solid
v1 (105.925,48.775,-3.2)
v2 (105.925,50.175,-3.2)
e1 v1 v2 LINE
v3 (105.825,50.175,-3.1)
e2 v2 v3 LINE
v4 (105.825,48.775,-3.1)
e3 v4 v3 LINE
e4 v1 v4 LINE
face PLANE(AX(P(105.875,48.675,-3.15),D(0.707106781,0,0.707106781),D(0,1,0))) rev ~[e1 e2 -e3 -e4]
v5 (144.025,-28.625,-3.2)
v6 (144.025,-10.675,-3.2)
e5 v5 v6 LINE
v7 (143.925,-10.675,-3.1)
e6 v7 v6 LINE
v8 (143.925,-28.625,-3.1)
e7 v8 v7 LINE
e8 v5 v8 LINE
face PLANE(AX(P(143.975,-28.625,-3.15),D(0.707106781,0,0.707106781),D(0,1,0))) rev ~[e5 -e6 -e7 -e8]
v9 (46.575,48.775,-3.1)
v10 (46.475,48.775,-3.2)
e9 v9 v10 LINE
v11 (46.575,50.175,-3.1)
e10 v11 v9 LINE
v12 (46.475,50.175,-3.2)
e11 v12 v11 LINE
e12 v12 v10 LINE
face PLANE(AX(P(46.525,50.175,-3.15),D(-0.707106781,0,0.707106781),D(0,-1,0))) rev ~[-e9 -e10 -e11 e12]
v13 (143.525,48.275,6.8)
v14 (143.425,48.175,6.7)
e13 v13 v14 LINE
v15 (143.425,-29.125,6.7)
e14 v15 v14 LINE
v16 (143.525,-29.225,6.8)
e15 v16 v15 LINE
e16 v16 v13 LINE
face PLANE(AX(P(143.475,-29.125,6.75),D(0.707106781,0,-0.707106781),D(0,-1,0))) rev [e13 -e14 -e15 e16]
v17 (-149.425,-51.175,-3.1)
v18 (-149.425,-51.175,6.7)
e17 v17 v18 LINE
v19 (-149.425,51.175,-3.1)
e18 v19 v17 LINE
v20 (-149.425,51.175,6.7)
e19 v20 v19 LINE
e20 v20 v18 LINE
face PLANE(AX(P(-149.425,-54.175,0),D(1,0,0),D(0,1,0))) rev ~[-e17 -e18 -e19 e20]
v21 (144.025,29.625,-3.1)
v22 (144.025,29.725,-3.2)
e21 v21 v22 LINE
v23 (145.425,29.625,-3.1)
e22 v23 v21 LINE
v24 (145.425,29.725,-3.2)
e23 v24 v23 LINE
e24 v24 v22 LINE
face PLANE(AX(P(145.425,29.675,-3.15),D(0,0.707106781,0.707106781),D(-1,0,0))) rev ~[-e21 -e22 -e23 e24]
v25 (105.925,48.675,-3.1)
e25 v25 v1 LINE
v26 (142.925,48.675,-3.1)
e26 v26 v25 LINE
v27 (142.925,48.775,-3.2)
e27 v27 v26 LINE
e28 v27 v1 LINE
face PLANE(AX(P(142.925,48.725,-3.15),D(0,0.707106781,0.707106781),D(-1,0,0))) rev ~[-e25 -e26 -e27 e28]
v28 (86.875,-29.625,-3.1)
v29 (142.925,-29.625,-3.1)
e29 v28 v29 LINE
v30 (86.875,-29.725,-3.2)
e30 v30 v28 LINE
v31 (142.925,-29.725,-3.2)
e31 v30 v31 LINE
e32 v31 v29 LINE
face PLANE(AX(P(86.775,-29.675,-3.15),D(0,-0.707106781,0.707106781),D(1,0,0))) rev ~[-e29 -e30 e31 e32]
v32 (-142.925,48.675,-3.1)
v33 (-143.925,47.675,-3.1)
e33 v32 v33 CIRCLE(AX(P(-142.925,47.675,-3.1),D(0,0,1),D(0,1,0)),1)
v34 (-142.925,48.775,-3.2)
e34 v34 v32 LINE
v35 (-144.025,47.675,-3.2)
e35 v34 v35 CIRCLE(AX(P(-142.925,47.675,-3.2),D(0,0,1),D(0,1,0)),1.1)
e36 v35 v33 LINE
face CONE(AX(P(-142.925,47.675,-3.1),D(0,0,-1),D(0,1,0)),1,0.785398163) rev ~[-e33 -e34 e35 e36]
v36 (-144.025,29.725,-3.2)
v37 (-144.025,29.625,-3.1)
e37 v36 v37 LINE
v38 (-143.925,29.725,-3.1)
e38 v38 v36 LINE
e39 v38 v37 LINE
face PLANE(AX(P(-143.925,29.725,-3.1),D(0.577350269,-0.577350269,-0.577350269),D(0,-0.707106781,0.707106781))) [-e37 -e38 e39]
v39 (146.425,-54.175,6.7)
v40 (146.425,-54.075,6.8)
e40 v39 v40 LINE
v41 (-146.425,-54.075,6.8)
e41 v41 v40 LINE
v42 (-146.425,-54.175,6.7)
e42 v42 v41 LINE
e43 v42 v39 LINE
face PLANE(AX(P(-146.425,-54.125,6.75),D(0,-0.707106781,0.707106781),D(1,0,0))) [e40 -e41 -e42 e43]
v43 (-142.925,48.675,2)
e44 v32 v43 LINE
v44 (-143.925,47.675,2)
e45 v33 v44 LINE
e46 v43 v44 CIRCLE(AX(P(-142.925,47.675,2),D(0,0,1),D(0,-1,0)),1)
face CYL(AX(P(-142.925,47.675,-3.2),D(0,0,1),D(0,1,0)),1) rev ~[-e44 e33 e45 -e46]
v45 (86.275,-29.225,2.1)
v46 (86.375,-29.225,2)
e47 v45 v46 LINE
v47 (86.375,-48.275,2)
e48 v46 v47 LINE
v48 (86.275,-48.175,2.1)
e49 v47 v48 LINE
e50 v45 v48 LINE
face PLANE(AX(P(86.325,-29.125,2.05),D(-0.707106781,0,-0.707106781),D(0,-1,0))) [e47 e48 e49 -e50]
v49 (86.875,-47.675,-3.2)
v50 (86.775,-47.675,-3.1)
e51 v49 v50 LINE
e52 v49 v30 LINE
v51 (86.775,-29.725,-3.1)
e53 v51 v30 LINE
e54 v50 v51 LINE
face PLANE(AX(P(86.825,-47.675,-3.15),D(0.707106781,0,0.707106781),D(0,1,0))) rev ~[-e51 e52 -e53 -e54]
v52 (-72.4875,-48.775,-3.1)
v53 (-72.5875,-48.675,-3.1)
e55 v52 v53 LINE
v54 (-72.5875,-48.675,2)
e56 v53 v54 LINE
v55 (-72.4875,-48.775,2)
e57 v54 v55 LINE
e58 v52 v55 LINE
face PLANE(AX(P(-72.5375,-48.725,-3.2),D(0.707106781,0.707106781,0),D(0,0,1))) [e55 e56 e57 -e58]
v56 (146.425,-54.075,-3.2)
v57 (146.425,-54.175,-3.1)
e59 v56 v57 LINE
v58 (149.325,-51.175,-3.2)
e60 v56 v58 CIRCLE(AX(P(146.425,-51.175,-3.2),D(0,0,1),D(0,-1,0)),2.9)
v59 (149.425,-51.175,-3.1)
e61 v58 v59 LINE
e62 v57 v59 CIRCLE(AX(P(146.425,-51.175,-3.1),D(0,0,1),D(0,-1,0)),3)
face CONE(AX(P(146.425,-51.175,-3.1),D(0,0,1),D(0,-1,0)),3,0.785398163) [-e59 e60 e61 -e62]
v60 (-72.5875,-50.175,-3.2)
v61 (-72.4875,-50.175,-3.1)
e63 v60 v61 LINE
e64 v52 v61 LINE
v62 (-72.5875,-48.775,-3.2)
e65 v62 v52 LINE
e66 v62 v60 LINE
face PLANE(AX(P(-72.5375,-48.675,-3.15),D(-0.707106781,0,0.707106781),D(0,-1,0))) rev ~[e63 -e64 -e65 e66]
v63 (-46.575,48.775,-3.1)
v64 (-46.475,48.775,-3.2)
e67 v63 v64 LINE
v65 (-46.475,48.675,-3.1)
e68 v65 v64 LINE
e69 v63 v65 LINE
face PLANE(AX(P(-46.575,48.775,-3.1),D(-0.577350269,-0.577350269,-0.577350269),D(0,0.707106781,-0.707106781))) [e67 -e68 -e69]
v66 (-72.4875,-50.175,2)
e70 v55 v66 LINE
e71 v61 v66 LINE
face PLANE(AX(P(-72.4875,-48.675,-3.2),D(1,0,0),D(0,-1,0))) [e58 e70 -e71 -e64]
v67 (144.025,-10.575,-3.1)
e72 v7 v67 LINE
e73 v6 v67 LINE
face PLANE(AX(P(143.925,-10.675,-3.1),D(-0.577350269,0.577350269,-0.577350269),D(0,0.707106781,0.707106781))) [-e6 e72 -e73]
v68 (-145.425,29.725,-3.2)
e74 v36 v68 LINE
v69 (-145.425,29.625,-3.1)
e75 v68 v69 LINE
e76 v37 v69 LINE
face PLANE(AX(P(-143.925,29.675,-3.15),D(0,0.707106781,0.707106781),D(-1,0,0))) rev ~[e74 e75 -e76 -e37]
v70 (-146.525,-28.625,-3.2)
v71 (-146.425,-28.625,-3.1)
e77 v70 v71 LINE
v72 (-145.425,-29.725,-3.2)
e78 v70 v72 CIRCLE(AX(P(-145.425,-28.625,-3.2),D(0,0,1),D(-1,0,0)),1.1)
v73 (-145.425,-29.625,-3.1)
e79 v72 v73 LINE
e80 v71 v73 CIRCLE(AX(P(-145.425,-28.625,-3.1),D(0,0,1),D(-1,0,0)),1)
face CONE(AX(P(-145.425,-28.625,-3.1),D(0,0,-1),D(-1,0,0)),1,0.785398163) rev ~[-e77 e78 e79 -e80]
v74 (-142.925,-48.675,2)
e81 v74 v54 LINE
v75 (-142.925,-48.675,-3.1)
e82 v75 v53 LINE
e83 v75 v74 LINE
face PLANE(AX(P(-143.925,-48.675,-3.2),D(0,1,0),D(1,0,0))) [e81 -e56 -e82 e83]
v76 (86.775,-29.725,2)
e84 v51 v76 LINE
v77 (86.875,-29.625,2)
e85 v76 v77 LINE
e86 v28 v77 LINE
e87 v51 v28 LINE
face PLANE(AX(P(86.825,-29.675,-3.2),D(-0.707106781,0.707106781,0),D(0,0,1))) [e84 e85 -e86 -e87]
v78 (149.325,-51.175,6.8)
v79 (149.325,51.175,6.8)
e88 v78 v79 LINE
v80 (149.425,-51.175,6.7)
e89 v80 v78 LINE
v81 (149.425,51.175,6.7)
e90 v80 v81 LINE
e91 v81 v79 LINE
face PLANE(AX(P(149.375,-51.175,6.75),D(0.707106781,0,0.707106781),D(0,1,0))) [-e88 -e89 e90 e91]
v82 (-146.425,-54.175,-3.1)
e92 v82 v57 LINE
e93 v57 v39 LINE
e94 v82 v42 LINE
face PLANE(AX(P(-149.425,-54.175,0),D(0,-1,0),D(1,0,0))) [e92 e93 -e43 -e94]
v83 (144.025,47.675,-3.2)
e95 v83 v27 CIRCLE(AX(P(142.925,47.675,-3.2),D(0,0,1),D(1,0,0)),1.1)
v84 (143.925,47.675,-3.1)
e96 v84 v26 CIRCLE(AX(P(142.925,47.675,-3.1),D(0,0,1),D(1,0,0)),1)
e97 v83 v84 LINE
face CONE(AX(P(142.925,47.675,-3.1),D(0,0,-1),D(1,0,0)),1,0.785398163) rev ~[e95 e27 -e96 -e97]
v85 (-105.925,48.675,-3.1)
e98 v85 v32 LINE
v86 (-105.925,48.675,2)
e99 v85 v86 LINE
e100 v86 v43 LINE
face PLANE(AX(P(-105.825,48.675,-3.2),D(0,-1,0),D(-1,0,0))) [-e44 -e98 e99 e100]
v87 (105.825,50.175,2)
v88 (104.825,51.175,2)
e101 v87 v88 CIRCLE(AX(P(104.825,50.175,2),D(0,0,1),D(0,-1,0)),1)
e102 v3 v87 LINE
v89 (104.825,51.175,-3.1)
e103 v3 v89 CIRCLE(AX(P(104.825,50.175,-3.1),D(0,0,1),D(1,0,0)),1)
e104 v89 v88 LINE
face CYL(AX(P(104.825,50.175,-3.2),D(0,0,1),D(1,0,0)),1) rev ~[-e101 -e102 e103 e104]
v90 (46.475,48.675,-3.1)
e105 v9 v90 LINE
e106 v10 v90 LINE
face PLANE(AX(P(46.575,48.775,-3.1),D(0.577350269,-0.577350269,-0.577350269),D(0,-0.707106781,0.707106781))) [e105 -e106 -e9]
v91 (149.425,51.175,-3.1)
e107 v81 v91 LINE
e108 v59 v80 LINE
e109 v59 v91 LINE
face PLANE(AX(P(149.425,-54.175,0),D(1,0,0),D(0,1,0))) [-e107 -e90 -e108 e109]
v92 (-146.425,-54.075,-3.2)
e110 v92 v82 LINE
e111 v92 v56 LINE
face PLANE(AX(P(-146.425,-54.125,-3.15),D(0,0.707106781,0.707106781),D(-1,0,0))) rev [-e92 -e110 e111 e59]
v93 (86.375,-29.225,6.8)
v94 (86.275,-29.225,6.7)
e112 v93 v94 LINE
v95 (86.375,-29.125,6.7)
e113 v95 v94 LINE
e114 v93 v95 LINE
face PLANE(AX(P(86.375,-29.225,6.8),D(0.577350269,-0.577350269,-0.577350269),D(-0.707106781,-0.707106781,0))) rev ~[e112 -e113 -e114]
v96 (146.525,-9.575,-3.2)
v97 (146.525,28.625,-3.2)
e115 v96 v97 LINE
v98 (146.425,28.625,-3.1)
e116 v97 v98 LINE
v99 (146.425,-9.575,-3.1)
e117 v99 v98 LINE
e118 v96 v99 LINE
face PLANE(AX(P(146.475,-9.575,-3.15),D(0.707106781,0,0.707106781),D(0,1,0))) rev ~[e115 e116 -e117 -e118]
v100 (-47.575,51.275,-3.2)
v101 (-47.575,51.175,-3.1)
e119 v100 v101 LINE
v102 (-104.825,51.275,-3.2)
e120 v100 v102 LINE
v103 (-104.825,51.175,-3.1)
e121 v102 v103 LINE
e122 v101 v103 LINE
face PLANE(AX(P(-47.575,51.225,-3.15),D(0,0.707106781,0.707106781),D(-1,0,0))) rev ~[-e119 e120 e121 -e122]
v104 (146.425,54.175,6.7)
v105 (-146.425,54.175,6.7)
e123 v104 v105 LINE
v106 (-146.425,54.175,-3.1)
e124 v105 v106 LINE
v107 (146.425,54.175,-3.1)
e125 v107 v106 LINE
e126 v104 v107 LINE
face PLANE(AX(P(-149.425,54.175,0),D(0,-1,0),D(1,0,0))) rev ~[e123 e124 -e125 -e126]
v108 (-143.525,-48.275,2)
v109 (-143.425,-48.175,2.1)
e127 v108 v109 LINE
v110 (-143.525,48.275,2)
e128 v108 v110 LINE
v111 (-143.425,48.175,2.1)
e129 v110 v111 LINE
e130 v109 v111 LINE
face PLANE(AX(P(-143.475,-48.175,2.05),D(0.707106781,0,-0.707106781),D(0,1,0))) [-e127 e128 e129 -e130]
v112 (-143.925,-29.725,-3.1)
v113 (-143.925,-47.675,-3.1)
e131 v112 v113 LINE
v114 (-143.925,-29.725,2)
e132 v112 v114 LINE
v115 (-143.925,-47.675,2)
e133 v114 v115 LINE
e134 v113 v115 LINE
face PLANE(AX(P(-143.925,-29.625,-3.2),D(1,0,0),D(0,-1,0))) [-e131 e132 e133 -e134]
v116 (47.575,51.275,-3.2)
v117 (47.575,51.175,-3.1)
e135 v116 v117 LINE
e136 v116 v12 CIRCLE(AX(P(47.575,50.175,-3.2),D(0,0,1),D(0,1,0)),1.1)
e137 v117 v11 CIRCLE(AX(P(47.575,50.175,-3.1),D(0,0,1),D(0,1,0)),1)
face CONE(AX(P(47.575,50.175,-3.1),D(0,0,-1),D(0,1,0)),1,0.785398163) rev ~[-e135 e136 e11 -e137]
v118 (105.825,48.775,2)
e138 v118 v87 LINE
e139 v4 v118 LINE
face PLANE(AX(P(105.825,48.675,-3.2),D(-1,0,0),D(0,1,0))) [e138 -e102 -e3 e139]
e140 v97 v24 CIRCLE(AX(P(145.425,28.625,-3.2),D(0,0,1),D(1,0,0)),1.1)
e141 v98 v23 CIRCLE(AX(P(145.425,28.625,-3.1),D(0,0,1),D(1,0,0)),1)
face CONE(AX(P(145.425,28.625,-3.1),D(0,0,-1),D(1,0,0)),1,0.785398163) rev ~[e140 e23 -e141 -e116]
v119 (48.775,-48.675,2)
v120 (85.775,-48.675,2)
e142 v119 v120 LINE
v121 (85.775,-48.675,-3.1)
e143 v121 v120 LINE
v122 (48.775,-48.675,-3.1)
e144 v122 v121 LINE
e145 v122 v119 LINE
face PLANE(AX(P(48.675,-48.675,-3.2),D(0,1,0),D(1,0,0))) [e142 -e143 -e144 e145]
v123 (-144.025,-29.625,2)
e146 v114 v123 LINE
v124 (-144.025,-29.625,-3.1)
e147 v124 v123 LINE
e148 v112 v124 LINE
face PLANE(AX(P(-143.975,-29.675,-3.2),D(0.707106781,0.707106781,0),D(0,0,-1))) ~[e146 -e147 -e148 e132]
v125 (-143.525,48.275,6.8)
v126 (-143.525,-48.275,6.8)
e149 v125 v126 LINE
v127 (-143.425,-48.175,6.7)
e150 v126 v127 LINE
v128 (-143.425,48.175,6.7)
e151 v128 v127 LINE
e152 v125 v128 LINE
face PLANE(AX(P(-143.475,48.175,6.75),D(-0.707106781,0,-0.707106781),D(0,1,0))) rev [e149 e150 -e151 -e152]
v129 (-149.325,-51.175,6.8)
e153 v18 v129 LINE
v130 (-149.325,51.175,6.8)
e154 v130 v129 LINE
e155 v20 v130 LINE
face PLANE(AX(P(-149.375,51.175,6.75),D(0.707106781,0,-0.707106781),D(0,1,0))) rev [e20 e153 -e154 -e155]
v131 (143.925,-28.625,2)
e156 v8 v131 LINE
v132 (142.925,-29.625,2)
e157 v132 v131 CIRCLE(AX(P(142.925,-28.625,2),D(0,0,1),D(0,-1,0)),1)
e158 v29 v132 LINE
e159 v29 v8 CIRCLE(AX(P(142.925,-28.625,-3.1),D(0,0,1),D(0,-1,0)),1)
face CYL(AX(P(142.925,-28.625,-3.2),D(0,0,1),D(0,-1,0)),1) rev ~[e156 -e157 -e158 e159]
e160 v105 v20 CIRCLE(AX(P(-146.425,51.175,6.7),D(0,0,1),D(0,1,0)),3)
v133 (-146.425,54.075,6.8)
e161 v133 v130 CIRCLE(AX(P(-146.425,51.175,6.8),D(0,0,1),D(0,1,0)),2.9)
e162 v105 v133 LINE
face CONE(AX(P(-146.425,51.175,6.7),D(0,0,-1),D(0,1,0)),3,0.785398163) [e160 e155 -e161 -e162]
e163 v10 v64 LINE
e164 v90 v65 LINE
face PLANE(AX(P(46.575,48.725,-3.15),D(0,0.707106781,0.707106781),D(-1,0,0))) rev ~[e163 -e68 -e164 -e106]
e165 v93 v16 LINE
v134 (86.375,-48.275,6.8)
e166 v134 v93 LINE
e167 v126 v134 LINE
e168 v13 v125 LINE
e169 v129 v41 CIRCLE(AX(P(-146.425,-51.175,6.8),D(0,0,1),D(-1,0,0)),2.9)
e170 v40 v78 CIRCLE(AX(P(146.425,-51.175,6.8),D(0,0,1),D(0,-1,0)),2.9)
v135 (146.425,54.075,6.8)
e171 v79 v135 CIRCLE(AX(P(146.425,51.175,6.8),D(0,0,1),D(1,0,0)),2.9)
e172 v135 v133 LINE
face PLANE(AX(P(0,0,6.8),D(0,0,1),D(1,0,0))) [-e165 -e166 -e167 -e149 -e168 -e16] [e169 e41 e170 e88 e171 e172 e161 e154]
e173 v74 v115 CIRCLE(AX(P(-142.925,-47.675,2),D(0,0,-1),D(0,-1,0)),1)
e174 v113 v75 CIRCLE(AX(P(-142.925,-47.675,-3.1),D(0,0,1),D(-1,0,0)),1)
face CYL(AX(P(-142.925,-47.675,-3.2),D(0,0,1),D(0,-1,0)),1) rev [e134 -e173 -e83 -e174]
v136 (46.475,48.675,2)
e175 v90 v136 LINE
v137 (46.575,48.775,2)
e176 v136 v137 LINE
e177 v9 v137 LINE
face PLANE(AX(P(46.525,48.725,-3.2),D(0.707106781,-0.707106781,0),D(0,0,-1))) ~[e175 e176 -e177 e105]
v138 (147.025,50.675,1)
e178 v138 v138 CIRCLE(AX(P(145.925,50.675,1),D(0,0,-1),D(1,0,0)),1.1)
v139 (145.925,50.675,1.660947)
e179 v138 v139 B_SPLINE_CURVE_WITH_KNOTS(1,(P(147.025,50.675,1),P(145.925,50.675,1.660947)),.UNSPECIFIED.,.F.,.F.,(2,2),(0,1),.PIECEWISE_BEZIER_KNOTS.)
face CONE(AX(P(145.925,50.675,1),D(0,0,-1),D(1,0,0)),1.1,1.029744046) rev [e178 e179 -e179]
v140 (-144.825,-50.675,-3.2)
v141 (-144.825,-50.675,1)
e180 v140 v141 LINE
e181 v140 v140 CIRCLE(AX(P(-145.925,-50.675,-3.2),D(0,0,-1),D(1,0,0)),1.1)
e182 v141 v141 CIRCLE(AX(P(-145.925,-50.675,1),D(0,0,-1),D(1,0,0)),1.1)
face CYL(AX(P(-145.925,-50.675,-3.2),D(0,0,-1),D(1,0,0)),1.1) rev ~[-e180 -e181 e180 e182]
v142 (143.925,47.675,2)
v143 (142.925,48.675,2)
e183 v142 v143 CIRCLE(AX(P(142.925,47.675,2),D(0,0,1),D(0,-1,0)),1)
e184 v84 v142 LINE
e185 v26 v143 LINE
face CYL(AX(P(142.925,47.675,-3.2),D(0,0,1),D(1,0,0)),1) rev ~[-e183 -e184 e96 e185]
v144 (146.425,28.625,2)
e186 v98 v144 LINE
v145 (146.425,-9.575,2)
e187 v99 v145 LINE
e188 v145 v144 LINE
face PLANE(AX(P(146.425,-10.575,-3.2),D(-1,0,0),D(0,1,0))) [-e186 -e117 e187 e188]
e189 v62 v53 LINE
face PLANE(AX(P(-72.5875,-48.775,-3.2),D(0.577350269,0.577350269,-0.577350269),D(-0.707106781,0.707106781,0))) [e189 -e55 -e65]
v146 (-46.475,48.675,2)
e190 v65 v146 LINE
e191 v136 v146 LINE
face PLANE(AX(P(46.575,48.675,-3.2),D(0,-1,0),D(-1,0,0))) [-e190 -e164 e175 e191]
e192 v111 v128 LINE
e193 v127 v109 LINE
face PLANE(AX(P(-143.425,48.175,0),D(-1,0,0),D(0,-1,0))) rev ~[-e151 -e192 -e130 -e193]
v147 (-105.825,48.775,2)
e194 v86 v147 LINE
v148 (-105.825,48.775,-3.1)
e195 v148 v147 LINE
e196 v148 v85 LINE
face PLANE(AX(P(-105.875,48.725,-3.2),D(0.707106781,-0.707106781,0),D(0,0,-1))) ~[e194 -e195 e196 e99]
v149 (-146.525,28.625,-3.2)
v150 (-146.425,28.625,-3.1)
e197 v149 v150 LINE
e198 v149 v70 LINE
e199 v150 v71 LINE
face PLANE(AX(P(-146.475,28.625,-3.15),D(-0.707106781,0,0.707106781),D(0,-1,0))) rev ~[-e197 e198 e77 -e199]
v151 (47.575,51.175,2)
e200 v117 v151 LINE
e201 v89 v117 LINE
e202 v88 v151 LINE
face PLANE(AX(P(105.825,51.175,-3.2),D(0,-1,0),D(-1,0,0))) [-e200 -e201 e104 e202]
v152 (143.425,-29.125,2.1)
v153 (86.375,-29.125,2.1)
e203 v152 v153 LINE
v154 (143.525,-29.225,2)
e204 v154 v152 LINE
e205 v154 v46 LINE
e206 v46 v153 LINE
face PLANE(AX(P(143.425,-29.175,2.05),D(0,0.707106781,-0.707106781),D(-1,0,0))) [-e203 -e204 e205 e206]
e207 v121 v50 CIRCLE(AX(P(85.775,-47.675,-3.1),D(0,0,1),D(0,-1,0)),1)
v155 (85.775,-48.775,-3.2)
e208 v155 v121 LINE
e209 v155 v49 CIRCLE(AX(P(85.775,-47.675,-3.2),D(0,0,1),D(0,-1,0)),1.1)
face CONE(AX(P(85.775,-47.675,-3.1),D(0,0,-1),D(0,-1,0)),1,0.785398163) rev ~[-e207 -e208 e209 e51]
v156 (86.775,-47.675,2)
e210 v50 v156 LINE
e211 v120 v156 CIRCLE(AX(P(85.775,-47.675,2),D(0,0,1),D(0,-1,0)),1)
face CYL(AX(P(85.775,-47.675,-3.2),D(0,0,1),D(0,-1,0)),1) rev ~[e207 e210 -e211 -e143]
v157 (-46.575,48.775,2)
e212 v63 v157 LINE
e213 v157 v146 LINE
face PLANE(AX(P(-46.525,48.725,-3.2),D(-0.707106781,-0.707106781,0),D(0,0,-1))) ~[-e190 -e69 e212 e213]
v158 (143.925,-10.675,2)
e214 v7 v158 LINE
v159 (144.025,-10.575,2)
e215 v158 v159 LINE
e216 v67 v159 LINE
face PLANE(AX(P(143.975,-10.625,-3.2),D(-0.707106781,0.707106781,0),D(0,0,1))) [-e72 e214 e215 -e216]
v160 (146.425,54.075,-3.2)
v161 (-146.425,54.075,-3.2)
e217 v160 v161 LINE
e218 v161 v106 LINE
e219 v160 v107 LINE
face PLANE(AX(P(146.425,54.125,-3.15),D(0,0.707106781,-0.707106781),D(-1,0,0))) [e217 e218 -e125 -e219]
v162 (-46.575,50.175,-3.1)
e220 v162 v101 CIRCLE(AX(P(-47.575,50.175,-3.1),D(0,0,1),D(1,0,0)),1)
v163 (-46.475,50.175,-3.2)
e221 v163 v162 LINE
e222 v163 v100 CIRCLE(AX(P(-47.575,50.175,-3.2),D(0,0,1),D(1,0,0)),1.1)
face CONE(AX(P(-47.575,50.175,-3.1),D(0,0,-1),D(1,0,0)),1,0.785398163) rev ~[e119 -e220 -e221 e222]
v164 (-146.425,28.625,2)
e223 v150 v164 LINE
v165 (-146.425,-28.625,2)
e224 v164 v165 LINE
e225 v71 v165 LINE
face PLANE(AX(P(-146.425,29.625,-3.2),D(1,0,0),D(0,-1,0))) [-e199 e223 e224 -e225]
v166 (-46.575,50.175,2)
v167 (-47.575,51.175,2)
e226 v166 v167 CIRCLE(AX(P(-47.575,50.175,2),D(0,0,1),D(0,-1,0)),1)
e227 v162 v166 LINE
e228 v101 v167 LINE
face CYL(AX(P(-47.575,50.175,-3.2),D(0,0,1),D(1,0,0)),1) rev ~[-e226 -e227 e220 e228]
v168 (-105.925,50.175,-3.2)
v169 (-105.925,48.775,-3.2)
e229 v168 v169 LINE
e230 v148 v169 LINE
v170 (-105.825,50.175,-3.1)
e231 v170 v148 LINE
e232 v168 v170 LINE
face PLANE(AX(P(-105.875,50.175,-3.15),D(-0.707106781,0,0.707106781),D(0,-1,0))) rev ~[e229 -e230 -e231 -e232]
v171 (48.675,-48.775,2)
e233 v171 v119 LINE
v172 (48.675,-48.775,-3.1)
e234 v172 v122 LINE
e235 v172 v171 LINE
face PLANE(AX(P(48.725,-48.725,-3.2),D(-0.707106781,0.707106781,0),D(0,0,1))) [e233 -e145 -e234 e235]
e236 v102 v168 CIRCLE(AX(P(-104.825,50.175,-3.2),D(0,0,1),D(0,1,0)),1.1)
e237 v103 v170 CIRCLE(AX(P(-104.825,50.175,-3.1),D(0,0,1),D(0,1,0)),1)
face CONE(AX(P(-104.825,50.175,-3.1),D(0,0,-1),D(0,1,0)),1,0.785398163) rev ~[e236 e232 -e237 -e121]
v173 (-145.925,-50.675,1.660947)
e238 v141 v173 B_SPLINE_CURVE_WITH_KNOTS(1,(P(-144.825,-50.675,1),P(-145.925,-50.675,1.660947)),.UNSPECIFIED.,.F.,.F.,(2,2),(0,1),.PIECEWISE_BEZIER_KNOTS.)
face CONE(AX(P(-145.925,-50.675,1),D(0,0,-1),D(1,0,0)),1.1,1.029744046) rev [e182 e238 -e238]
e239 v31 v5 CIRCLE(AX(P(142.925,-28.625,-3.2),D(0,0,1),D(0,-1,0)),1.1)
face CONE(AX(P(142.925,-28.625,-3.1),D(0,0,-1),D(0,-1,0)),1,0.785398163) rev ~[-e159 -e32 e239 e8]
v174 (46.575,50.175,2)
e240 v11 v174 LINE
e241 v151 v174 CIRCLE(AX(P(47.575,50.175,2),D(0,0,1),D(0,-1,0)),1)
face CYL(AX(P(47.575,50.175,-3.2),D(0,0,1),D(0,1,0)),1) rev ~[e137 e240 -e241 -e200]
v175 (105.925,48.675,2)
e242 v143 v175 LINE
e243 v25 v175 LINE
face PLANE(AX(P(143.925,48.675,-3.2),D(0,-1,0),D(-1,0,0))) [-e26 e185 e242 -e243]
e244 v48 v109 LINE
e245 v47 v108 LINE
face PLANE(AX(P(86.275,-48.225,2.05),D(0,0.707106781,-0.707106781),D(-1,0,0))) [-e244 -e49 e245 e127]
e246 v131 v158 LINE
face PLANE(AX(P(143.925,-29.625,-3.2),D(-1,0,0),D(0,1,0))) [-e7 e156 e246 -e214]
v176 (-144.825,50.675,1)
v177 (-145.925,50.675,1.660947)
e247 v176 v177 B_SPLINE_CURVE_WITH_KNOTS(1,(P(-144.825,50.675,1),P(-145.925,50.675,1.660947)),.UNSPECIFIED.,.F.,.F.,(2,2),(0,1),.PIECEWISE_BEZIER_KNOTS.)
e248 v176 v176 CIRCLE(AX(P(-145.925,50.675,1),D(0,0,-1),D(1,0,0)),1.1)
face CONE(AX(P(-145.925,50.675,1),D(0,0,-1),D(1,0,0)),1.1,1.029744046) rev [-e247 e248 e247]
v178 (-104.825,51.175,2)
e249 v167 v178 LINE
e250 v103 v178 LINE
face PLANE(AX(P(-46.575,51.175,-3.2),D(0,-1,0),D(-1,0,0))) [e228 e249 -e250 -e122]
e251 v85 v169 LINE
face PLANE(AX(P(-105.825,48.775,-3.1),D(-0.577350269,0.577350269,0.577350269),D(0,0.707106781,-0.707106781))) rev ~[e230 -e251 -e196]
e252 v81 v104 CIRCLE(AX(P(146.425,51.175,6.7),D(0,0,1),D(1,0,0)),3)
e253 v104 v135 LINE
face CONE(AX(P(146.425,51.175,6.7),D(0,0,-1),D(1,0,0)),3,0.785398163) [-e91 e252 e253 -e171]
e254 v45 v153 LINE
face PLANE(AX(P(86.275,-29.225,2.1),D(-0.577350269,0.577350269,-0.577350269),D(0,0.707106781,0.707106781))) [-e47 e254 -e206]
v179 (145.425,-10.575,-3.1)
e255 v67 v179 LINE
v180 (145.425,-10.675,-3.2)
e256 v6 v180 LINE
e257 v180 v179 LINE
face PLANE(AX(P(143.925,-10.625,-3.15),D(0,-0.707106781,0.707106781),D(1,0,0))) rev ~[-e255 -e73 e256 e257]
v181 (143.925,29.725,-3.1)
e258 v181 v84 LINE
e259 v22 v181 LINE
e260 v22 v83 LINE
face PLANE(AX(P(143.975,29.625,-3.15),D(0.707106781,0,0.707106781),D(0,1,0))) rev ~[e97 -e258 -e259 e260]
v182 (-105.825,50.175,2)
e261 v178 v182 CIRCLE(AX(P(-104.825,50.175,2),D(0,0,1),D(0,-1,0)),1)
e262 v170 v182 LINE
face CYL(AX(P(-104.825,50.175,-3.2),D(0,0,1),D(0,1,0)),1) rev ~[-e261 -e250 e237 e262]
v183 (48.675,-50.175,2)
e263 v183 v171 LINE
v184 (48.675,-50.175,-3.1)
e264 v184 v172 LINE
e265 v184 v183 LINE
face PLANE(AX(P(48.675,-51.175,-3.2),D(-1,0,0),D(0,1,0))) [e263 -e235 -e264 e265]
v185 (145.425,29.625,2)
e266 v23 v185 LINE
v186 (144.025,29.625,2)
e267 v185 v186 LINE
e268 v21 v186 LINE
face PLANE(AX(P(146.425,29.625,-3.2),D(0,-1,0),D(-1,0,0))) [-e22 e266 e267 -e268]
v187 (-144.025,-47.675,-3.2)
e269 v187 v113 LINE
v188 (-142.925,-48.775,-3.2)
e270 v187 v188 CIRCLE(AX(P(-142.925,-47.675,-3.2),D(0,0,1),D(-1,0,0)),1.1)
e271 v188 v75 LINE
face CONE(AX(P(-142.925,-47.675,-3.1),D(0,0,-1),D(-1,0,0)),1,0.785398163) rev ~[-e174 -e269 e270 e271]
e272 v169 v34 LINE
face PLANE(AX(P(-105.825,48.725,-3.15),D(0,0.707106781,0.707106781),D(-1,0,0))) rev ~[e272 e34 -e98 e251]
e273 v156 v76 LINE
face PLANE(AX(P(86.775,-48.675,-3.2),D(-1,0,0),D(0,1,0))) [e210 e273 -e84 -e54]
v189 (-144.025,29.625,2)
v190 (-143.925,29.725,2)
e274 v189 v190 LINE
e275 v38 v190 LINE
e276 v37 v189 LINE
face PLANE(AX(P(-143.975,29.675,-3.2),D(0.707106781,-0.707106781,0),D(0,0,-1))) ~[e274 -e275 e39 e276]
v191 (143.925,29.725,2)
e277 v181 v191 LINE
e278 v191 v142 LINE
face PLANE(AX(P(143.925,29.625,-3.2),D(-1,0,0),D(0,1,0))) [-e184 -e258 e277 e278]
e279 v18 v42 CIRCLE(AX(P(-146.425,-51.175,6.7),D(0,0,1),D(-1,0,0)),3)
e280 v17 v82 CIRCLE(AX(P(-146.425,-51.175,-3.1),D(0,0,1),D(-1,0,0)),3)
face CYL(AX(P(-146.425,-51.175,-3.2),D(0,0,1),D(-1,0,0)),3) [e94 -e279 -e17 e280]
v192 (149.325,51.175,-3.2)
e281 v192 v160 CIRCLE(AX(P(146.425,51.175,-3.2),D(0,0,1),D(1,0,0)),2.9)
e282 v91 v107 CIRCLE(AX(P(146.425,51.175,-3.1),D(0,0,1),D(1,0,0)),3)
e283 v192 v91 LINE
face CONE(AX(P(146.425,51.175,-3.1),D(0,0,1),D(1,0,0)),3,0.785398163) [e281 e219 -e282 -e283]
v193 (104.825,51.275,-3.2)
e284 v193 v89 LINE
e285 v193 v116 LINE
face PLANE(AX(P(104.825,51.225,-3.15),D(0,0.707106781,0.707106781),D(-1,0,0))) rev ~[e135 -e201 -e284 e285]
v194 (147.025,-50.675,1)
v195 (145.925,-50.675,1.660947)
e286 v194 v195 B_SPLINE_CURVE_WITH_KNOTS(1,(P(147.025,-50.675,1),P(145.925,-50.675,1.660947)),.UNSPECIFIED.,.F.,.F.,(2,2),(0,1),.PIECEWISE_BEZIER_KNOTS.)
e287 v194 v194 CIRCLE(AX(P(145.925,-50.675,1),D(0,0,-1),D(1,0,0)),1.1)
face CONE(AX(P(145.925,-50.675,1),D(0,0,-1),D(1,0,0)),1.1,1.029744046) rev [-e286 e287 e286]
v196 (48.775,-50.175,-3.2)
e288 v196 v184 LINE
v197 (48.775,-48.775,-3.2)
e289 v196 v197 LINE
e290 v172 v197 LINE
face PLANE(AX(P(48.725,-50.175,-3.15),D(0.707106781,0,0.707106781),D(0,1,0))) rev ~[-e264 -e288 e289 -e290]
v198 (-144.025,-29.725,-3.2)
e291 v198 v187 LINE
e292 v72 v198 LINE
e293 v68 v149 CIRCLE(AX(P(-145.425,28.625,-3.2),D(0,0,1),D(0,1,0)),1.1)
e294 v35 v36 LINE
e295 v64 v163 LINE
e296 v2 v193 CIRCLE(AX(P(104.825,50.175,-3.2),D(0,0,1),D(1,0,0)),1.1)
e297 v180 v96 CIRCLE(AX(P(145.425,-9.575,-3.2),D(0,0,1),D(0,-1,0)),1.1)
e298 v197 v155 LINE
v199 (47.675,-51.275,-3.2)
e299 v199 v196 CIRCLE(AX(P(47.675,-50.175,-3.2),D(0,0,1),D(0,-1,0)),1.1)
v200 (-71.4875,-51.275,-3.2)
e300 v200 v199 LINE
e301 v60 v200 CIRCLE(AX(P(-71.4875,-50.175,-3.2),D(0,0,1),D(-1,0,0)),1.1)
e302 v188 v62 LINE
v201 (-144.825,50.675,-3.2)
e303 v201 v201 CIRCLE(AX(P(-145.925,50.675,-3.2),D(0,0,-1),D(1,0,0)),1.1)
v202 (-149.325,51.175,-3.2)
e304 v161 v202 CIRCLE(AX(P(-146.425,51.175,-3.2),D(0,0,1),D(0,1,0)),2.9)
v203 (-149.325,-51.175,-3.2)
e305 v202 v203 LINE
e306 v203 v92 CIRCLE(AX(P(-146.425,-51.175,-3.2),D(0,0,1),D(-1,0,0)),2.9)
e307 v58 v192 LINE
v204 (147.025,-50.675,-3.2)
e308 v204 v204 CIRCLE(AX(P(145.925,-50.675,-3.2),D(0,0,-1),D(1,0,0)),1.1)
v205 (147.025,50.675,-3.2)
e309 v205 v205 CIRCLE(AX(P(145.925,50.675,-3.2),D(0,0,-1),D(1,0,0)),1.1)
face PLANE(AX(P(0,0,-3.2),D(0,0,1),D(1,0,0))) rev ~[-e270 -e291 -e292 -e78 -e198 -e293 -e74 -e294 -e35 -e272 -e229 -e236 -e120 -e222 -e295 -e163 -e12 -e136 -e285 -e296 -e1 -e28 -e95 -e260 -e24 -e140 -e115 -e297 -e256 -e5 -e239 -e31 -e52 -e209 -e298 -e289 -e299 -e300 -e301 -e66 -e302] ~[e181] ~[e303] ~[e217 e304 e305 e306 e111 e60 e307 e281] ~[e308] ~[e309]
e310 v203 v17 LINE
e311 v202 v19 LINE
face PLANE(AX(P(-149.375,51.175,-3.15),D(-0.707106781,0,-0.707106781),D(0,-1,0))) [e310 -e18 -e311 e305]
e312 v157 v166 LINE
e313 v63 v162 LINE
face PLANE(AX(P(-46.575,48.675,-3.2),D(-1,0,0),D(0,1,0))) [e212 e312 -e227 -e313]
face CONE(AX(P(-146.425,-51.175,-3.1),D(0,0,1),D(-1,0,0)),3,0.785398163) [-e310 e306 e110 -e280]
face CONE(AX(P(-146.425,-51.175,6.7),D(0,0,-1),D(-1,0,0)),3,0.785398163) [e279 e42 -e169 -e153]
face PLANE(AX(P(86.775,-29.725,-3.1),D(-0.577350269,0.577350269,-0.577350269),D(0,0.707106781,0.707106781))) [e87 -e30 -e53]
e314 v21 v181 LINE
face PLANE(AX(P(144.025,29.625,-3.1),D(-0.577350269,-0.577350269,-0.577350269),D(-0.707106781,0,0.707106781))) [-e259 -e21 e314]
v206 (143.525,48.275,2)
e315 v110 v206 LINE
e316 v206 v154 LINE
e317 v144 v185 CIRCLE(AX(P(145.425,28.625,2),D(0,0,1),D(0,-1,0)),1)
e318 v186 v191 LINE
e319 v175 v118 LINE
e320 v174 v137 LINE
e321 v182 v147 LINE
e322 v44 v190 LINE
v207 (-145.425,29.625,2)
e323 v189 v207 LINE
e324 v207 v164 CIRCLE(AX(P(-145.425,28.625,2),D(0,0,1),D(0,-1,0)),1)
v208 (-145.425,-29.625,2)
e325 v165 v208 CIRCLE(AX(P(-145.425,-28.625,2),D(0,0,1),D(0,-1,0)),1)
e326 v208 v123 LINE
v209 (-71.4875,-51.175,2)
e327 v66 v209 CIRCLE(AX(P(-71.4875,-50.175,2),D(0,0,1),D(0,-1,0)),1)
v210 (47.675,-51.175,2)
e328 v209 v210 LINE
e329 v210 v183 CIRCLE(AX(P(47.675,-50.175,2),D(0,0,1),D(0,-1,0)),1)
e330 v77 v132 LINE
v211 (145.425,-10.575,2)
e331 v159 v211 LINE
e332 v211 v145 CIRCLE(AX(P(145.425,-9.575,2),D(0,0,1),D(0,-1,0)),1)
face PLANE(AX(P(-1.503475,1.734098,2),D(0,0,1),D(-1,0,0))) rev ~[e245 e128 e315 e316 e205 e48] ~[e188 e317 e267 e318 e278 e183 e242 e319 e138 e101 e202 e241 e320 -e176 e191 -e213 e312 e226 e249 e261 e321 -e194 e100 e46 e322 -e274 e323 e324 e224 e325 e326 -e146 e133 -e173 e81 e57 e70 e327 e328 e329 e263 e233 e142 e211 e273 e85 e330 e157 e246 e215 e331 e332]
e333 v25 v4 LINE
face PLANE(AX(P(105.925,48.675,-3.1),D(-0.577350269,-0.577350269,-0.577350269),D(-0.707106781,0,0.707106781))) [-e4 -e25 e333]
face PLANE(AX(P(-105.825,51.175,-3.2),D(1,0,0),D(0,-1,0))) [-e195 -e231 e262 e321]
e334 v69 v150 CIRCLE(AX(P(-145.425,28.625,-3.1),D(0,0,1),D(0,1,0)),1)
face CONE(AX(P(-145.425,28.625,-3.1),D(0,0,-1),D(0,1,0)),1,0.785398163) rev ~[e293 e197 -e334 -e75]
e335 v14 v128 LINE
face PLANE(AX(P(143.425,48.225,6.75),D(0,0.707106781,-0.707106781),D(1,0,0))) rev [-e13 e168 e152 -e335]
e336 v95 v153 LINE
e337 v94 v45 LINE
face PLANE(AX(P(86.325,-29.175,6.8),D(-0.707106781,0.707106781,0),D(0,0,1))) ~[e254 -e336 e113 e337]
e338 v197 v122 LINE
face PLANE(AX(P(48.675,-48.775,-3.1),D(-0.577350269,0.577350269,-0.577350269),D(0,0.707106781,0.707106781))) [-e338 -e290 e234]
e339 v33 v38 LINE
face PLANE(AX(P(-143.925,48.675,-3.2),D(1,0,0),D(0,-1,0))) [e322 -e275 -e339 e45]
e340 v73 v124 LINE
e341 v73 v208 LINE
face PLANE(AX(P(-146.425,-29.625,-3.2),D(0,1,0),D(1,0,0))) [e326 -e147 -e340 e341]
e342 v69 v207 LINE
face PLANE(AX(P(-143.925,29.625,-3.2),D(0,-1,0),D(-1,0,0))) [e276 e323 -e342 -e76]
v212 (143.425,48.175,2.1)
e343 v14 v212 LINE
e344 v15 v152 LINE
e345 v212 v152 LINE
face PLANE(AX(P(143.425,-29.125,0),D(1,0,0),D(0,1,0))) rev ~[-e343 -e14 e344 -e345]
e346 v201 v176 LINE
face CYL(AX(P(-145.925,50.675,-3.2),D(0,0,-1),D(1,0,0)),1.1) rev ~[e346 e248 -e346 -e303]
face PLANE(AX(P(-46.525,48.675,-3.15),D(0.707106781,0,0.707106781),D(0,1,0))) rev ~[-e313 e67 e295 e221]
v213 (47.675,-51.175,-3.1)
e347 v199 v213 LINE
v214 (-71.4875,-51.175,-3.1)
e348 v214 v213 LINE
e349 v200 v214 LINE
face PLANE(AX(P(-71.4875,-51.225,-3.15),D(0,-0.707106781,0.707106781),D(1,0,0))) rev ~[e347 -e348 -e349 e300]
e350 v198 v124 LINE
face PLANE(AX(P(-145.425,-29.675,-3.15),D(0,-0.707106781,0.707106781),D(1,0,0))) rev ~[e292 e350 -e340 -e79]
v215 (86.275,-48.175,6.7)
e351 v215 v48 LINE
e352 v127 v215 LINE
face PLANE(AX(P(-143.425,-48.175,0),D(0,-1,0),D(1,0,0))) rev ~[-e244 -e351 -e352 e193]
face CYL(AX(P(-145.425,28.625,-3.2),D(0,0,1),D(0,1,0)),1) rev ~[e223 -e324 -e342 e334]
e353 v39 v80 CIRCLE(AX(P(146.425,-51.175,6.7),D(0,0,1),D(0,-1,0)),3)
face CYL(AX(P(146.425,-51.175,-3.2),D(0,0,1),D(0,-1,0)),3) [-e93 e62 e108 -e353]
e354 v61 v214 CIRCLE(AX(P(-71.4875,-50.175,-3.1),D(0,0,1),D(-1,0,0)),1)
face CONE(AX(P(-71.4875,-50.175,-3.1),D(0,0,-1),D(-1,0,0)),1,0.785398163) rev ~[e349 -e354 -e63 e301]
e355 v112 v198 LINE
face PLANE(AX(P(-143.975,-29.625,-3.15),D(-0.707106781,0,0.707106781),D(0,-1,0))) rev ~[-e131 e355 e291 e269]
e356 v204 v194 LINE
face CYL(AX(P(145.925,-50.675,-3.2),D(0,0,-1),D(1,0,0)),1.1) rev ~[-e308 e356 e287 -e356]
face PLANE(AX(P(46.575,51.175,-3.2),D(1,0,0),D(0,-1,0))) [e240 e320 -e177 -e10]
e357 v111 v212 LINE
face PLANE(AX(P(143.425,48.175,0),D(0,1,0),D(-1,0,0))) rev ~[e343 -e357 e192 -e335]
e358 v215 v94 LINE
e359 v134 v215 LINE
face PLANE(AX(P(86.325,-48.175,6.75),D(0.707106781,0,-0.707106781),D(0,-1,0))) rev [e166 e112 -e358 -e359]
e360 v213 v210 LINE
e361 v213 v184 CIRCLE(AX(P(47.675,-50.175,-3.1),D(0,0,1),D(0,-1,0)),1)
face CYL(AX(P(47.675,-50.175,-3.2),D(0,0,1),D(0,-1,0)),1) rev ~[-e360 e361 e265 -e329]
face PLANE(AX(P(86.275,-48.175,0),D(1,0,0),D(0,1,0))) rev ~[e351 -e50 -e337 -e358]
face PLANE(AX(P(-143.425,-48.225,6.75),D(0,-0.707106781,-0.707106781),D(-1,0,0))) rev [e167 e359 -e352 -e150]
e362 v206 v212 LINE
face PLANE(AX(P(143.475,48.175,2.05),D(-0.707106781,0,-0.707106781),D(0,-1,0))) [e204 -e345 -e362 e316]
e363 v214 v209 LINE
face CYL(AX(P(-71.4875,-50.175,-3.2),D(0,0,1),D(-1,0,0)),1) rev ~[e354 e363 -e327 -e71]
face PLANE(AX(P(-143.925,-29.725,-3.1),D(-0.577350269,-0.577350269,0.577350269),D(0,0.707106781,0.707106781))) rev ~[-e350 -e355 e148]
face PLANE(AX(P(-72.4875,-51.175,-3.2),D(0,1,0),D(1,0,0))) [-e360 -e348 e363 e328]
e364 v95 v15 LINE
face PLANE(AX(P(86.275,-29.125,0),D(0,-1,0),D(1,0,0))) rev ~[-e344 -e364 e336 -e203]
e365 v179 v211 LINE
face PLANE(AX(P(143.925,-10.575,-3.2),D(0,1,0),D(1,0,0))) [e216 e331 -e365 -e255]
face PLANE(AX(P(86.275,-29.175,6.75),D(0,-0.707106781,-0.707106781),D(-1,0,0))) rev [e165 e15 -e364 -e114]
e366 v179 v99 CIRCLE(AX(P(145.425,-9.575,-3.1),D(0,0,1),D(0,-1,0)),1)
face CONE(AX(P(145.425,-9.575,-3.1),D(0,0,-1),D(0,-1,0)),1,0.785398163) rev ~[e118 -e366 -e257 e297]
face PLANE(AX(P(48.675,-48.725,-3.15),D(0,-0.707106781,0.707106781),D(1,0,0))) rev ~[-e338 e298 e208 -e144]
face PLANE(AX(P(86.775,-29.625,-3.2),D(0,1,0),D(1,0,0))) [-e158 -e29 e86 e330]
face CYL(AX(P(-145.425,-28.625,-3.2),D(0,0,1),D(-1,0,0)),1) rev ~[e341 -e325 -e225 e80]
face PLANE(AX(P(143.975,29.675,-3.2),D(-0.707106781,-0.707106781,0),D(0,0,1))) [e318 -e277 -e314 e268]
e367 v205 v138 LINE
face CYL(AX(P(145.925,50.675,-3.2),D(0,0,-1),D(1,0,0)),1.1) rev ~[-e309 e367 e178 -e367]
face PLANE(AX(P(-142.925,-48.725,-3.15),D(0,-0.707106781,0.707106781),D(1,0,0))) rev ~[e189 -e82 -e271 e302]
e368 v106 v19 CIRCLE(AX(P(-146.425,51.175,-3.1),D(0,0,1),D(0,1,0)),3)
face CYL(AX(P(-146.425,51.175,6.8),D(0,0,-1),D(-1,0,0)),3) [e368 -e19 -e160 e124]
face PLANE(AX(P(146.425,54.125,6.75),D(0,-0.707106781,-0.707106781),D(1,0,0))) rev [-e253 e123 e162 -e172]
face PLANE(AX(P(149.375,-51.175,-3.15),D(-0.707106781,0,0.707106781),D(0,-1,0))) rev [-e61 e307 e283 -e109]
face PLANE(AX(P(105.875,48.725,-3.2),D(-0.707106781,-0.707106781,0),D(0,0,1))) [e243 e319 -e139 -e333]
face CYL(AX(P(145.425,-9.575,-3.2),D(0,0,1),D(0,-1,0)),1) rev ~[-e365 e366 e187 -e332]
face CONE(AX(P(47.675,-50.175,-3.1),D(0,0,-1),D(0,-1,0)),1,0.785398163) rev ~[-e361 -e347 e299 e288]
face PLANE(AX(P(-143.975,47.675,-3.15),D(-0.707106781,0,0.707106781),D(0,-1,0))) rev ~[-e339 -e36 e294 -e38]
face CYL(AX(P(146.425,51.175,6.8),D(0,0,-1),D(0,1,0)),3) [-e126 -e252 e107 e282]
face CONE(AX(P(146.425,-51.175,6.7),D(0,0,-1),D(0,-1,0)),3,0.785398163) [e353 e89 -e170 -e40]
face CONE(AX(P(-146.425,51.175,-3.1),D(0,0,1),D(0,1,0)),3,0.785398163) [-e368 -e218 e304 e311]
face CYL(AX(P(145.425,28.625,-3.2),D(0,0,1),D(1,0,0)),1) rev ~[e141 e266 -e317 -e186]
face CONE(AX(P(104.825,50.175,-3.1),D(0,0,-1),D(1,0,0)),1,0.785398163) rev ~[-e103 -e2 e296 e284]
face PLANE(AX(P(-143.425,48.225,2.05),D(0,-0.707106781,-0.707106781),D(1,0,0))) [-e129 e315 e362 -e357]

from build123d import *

# Parameters (mm, degrees)
SKETCH004_W       = 298.85
SKETCH004_H       = 108.35
PAD002_DEPTH      = 6.8
PAD002_DEPTH_BACK = 3.2
SKETCH010_R       = 1.1
HOLE001_DEPTH     = 4.2
HOLE001_TIPS_R    = 1.1
FILLET003_R       = 3
POCKET004_DEPTH   = 5.2
FILLET005_R       = 1
CHAMFER003_SIZE   = 0.1


with BuildPart() as part:
    # Sketch004 → Pad002 (new body, two sides)
    with BuildSketch(Plane.XY) as pad002_sk:
        Rectangle(SKETCH004_W, SKETCH004_H)
        Polygon((-143.425, 48.175), (-143.425, -48.175), (86.275, -48.175), (86.275, -29.125), (143.425, -29.125), (143.425, 48.175), align=None, mode=Mode.SUBTRACT)
    extrude(amount=PAD002_DEPTH)
    extrude(pad002_sk.sketch, amount=-PAD002_DEPTH_BACK)

    # Sketch010 (on Face11 of Pad002) → Hole001 (cut)
    with BuildSketch(Plane(origin=(0, 0, -3.2), x_dir=(1, 0, 0), z_dir=(0, 0, -1))):
        with Locations((-145.925, 50.675)):
            Circle(SKETCH010_R)
        with Locations((-145.925, -50.675)):
            Circle(SKETCH010_R)
        with Locations((145.925, 50.675)):
            Circle(SKETCH010_R)
        with Locations((145.925, -50.675)):
            Circle(SKETCH010_R)
    extrude(amount=-HOLE001_DEPTH, mode=Mode.SUBTRACT)

    # Hole001 tips → Hole001 tip 1 section 0
    with BuildSketch(Plane(origin=(0, 0, 1), x_dir=(1, 0, 0), z_dir=(0, 0, -1)), mode=Mode.PRIVATE) as hole001_tip_1_s0:
        with Locations((-145.925, 50.675)):
            Circle(HOLE001_TIPS_R)
    loft([hole001_tip_1_s0.sketch, Vertex(-145.925, -50.675, 1.660947)], mode=Mode.SUBTRACT)

    # Hole001 tips → Hole001 tip 2 section 0
    with BuildSketch(Plane(origin=(0, 0, 1), x_dir=(1, 0, 0), z_dir=(0, 0, -1)), mode=Mode.PRIVATE) as hole001_tip_2_s0:
        with Locations((-145.925, -50.675)):
            Circle(HOLE001_TIPS_R)
    loft([hole001_tip_2_s0.sketch, Vertex(-145.925, 50.675, 1.660947)], mode=Mode.SUBTRACT)

    # Hole001 tips → Hole001 tip 3 section 0
    with BuildSketch(Plane(origin=(0, 0, 1), x_dir=(1, 0, 0), z_dir=(0, 0, -1)), mode=Mode.PRIVATE) as hole001_tip_3_s0:
        with Locations((145.925, 50.675)):
            Circle(HOLE001_TIPS_R)
    loft([hole001_tip_3_s0.sketch, Vertex(145.925, -50.675, 1.660947)], mode=Mode.SUBTRACT)

    # Hole001 tips → Hole001 tip 4 section 0
    with BuildSketch(Plane(origin=(0, 0, 1), x_dir=(1, 0, 0), z_dir=(0, 0, -1)), mode=Mode.PRIVATE) as hole001_tip_4_s0:
        with Locations((145.925, -50.675)):
            Circle(HOLE001_TIPS_R)
    loft([hole001_tip_4_s0.sketch, Vertex(145.925, 50.675, 1.660947)], mode=Mode.SUBTRACT)

    # Fillet003
    fillet003_edges = [part.edges().sort_by_distance(p)[0] for p in [
        (149.425, 54.175, 1.8),
        (149.425, -54.175, 1.8),
        (-149.425, 54.175, 1.8),
        (-149.425, -54.175, 1.8),
    ]]
    fillet(fillet003_edges, radius=FILLET003_R)

    # Sketch011 (on Face2 of Fillet003) → Pocket004 (cut)
    with BuildSketch(Plane(origin=(0, 0, -3.2), x_dir=(1, 0, 0), z_dir=(0, 0, -1))):
        Polygon((-143.925, 48.675), (-72.4875, 48.675), (-72.4875, 51.175), (48.675, 51.175), (48.675, 48.675), (86.775, 48.675), (86.775, 29.625), (143.925, 29.625), (143.925, 10.575), (146.425, 10.575), (146.425, -29.625), (143.925, -29.625), (143.925, -48.675), (105.825, -48.675), (105.825, -51.175), (46.575, -51.175), (46.575, -48.675), (-46.575, -48.675), (-46.575, -51.175), (-105.825, -51.175), (-105.825, -48.675), (-143.925, -48.675), (-143.925, -29.625), (-146.425, -29.625), (-146.425, 29.625), (-143.925, 29.625), align=None)
    extrude(amount=-POCKET004_DEPTH, mode=Mode.SUBTRACT)

    # Fillet005
    fillet005_edges = [part.edges().sort_by_distance(p)[0] for p in [
        (146.425, -10.575, -0.6),
        (143.925, -29.625, -0.6),
        (146.425, 29.625, -0.6),
        (143.925, 48.675, -0.6),
        (105.825, 51.175, -0.6),
        (46.575, 51.175, -0.6),
        (-46.575, 51.175, -0.6),
        (-105.825, 51.175, -0.6),
        (-143.925, 48.675, -0.6),
        (-146.425, 29.625, -0.6),
        (-146.425, -29.625, -0.6),
        (-143.925, -48.675, -0.6),
        (48.675, -51.175, -0.6),
        (-72.4875, -51.175, -0.6),
        (86.775, -48.675, -0.6),
    ]]
    fillet(fillet005_edges, radius=FILLET005_R)

    # Chamfer003
    chamfer003_edges = [part.edges().sort_by_distance(p)[0] for p in [
        (0, 48.675, -3.2),
        (76.2, 51.175, -3.2),
        (143.925, 38.65, -3.2),
        (146.425, 9.525, -3.2),
        (114.85, -29.625, -3.2),
        (86.775, -38.65, -3.2),
        (-146.425, 0, -3.2),
        (-143.925, 38.65, -3.2),
        (-143.925, 29.625, -0.6),
        (-46.575, 48.675, -0.6),
        (86.775, -29.625, -0.6),
        (-72.4875, -48.675, -0.6),
        (-11.90625, -51.175, -3.2),
        (-107.70625, -48.675, -3.2),
        (48.675, -48.675, -0.6),
        (-143.925, -29.625, -0.6),
        (-105.825, 48.675, -0.6),
        (143.925, 29.625, -0.6),
        (143.925, -10.575, -0.6),
        (105.825, 48.675, -0.6),
        (46.575, 48.675, -0.6),
        (-46.575, 49.425, -3.2),
        (114.85, -29.125, 2),
        (86.275, -38.65, 2),
        (86.275, -29.125, 4.4),
        (-28.575, -48.175, 2),
        (143.425, 9.525, 2),
        (0, 48.175, 2),
        (-143.425, 0, 2),
        (-148.54632, -53.29632, -3.2),
        (148.54632, -53.29632, 6.8),
        (143.425, 9.525, 6.8),
        (114.85, -29.125, 6.8),
        (86.275, -38.65, 6.8),
        (-28.575, -48.175, 6.8),
        (0, 48.175, 6.8),
        (-143.425, 0, 6.8),
    ]]
    chamfer(chamfer003_edges, length=CHAMFER003_SIZE)


solid = part.part
